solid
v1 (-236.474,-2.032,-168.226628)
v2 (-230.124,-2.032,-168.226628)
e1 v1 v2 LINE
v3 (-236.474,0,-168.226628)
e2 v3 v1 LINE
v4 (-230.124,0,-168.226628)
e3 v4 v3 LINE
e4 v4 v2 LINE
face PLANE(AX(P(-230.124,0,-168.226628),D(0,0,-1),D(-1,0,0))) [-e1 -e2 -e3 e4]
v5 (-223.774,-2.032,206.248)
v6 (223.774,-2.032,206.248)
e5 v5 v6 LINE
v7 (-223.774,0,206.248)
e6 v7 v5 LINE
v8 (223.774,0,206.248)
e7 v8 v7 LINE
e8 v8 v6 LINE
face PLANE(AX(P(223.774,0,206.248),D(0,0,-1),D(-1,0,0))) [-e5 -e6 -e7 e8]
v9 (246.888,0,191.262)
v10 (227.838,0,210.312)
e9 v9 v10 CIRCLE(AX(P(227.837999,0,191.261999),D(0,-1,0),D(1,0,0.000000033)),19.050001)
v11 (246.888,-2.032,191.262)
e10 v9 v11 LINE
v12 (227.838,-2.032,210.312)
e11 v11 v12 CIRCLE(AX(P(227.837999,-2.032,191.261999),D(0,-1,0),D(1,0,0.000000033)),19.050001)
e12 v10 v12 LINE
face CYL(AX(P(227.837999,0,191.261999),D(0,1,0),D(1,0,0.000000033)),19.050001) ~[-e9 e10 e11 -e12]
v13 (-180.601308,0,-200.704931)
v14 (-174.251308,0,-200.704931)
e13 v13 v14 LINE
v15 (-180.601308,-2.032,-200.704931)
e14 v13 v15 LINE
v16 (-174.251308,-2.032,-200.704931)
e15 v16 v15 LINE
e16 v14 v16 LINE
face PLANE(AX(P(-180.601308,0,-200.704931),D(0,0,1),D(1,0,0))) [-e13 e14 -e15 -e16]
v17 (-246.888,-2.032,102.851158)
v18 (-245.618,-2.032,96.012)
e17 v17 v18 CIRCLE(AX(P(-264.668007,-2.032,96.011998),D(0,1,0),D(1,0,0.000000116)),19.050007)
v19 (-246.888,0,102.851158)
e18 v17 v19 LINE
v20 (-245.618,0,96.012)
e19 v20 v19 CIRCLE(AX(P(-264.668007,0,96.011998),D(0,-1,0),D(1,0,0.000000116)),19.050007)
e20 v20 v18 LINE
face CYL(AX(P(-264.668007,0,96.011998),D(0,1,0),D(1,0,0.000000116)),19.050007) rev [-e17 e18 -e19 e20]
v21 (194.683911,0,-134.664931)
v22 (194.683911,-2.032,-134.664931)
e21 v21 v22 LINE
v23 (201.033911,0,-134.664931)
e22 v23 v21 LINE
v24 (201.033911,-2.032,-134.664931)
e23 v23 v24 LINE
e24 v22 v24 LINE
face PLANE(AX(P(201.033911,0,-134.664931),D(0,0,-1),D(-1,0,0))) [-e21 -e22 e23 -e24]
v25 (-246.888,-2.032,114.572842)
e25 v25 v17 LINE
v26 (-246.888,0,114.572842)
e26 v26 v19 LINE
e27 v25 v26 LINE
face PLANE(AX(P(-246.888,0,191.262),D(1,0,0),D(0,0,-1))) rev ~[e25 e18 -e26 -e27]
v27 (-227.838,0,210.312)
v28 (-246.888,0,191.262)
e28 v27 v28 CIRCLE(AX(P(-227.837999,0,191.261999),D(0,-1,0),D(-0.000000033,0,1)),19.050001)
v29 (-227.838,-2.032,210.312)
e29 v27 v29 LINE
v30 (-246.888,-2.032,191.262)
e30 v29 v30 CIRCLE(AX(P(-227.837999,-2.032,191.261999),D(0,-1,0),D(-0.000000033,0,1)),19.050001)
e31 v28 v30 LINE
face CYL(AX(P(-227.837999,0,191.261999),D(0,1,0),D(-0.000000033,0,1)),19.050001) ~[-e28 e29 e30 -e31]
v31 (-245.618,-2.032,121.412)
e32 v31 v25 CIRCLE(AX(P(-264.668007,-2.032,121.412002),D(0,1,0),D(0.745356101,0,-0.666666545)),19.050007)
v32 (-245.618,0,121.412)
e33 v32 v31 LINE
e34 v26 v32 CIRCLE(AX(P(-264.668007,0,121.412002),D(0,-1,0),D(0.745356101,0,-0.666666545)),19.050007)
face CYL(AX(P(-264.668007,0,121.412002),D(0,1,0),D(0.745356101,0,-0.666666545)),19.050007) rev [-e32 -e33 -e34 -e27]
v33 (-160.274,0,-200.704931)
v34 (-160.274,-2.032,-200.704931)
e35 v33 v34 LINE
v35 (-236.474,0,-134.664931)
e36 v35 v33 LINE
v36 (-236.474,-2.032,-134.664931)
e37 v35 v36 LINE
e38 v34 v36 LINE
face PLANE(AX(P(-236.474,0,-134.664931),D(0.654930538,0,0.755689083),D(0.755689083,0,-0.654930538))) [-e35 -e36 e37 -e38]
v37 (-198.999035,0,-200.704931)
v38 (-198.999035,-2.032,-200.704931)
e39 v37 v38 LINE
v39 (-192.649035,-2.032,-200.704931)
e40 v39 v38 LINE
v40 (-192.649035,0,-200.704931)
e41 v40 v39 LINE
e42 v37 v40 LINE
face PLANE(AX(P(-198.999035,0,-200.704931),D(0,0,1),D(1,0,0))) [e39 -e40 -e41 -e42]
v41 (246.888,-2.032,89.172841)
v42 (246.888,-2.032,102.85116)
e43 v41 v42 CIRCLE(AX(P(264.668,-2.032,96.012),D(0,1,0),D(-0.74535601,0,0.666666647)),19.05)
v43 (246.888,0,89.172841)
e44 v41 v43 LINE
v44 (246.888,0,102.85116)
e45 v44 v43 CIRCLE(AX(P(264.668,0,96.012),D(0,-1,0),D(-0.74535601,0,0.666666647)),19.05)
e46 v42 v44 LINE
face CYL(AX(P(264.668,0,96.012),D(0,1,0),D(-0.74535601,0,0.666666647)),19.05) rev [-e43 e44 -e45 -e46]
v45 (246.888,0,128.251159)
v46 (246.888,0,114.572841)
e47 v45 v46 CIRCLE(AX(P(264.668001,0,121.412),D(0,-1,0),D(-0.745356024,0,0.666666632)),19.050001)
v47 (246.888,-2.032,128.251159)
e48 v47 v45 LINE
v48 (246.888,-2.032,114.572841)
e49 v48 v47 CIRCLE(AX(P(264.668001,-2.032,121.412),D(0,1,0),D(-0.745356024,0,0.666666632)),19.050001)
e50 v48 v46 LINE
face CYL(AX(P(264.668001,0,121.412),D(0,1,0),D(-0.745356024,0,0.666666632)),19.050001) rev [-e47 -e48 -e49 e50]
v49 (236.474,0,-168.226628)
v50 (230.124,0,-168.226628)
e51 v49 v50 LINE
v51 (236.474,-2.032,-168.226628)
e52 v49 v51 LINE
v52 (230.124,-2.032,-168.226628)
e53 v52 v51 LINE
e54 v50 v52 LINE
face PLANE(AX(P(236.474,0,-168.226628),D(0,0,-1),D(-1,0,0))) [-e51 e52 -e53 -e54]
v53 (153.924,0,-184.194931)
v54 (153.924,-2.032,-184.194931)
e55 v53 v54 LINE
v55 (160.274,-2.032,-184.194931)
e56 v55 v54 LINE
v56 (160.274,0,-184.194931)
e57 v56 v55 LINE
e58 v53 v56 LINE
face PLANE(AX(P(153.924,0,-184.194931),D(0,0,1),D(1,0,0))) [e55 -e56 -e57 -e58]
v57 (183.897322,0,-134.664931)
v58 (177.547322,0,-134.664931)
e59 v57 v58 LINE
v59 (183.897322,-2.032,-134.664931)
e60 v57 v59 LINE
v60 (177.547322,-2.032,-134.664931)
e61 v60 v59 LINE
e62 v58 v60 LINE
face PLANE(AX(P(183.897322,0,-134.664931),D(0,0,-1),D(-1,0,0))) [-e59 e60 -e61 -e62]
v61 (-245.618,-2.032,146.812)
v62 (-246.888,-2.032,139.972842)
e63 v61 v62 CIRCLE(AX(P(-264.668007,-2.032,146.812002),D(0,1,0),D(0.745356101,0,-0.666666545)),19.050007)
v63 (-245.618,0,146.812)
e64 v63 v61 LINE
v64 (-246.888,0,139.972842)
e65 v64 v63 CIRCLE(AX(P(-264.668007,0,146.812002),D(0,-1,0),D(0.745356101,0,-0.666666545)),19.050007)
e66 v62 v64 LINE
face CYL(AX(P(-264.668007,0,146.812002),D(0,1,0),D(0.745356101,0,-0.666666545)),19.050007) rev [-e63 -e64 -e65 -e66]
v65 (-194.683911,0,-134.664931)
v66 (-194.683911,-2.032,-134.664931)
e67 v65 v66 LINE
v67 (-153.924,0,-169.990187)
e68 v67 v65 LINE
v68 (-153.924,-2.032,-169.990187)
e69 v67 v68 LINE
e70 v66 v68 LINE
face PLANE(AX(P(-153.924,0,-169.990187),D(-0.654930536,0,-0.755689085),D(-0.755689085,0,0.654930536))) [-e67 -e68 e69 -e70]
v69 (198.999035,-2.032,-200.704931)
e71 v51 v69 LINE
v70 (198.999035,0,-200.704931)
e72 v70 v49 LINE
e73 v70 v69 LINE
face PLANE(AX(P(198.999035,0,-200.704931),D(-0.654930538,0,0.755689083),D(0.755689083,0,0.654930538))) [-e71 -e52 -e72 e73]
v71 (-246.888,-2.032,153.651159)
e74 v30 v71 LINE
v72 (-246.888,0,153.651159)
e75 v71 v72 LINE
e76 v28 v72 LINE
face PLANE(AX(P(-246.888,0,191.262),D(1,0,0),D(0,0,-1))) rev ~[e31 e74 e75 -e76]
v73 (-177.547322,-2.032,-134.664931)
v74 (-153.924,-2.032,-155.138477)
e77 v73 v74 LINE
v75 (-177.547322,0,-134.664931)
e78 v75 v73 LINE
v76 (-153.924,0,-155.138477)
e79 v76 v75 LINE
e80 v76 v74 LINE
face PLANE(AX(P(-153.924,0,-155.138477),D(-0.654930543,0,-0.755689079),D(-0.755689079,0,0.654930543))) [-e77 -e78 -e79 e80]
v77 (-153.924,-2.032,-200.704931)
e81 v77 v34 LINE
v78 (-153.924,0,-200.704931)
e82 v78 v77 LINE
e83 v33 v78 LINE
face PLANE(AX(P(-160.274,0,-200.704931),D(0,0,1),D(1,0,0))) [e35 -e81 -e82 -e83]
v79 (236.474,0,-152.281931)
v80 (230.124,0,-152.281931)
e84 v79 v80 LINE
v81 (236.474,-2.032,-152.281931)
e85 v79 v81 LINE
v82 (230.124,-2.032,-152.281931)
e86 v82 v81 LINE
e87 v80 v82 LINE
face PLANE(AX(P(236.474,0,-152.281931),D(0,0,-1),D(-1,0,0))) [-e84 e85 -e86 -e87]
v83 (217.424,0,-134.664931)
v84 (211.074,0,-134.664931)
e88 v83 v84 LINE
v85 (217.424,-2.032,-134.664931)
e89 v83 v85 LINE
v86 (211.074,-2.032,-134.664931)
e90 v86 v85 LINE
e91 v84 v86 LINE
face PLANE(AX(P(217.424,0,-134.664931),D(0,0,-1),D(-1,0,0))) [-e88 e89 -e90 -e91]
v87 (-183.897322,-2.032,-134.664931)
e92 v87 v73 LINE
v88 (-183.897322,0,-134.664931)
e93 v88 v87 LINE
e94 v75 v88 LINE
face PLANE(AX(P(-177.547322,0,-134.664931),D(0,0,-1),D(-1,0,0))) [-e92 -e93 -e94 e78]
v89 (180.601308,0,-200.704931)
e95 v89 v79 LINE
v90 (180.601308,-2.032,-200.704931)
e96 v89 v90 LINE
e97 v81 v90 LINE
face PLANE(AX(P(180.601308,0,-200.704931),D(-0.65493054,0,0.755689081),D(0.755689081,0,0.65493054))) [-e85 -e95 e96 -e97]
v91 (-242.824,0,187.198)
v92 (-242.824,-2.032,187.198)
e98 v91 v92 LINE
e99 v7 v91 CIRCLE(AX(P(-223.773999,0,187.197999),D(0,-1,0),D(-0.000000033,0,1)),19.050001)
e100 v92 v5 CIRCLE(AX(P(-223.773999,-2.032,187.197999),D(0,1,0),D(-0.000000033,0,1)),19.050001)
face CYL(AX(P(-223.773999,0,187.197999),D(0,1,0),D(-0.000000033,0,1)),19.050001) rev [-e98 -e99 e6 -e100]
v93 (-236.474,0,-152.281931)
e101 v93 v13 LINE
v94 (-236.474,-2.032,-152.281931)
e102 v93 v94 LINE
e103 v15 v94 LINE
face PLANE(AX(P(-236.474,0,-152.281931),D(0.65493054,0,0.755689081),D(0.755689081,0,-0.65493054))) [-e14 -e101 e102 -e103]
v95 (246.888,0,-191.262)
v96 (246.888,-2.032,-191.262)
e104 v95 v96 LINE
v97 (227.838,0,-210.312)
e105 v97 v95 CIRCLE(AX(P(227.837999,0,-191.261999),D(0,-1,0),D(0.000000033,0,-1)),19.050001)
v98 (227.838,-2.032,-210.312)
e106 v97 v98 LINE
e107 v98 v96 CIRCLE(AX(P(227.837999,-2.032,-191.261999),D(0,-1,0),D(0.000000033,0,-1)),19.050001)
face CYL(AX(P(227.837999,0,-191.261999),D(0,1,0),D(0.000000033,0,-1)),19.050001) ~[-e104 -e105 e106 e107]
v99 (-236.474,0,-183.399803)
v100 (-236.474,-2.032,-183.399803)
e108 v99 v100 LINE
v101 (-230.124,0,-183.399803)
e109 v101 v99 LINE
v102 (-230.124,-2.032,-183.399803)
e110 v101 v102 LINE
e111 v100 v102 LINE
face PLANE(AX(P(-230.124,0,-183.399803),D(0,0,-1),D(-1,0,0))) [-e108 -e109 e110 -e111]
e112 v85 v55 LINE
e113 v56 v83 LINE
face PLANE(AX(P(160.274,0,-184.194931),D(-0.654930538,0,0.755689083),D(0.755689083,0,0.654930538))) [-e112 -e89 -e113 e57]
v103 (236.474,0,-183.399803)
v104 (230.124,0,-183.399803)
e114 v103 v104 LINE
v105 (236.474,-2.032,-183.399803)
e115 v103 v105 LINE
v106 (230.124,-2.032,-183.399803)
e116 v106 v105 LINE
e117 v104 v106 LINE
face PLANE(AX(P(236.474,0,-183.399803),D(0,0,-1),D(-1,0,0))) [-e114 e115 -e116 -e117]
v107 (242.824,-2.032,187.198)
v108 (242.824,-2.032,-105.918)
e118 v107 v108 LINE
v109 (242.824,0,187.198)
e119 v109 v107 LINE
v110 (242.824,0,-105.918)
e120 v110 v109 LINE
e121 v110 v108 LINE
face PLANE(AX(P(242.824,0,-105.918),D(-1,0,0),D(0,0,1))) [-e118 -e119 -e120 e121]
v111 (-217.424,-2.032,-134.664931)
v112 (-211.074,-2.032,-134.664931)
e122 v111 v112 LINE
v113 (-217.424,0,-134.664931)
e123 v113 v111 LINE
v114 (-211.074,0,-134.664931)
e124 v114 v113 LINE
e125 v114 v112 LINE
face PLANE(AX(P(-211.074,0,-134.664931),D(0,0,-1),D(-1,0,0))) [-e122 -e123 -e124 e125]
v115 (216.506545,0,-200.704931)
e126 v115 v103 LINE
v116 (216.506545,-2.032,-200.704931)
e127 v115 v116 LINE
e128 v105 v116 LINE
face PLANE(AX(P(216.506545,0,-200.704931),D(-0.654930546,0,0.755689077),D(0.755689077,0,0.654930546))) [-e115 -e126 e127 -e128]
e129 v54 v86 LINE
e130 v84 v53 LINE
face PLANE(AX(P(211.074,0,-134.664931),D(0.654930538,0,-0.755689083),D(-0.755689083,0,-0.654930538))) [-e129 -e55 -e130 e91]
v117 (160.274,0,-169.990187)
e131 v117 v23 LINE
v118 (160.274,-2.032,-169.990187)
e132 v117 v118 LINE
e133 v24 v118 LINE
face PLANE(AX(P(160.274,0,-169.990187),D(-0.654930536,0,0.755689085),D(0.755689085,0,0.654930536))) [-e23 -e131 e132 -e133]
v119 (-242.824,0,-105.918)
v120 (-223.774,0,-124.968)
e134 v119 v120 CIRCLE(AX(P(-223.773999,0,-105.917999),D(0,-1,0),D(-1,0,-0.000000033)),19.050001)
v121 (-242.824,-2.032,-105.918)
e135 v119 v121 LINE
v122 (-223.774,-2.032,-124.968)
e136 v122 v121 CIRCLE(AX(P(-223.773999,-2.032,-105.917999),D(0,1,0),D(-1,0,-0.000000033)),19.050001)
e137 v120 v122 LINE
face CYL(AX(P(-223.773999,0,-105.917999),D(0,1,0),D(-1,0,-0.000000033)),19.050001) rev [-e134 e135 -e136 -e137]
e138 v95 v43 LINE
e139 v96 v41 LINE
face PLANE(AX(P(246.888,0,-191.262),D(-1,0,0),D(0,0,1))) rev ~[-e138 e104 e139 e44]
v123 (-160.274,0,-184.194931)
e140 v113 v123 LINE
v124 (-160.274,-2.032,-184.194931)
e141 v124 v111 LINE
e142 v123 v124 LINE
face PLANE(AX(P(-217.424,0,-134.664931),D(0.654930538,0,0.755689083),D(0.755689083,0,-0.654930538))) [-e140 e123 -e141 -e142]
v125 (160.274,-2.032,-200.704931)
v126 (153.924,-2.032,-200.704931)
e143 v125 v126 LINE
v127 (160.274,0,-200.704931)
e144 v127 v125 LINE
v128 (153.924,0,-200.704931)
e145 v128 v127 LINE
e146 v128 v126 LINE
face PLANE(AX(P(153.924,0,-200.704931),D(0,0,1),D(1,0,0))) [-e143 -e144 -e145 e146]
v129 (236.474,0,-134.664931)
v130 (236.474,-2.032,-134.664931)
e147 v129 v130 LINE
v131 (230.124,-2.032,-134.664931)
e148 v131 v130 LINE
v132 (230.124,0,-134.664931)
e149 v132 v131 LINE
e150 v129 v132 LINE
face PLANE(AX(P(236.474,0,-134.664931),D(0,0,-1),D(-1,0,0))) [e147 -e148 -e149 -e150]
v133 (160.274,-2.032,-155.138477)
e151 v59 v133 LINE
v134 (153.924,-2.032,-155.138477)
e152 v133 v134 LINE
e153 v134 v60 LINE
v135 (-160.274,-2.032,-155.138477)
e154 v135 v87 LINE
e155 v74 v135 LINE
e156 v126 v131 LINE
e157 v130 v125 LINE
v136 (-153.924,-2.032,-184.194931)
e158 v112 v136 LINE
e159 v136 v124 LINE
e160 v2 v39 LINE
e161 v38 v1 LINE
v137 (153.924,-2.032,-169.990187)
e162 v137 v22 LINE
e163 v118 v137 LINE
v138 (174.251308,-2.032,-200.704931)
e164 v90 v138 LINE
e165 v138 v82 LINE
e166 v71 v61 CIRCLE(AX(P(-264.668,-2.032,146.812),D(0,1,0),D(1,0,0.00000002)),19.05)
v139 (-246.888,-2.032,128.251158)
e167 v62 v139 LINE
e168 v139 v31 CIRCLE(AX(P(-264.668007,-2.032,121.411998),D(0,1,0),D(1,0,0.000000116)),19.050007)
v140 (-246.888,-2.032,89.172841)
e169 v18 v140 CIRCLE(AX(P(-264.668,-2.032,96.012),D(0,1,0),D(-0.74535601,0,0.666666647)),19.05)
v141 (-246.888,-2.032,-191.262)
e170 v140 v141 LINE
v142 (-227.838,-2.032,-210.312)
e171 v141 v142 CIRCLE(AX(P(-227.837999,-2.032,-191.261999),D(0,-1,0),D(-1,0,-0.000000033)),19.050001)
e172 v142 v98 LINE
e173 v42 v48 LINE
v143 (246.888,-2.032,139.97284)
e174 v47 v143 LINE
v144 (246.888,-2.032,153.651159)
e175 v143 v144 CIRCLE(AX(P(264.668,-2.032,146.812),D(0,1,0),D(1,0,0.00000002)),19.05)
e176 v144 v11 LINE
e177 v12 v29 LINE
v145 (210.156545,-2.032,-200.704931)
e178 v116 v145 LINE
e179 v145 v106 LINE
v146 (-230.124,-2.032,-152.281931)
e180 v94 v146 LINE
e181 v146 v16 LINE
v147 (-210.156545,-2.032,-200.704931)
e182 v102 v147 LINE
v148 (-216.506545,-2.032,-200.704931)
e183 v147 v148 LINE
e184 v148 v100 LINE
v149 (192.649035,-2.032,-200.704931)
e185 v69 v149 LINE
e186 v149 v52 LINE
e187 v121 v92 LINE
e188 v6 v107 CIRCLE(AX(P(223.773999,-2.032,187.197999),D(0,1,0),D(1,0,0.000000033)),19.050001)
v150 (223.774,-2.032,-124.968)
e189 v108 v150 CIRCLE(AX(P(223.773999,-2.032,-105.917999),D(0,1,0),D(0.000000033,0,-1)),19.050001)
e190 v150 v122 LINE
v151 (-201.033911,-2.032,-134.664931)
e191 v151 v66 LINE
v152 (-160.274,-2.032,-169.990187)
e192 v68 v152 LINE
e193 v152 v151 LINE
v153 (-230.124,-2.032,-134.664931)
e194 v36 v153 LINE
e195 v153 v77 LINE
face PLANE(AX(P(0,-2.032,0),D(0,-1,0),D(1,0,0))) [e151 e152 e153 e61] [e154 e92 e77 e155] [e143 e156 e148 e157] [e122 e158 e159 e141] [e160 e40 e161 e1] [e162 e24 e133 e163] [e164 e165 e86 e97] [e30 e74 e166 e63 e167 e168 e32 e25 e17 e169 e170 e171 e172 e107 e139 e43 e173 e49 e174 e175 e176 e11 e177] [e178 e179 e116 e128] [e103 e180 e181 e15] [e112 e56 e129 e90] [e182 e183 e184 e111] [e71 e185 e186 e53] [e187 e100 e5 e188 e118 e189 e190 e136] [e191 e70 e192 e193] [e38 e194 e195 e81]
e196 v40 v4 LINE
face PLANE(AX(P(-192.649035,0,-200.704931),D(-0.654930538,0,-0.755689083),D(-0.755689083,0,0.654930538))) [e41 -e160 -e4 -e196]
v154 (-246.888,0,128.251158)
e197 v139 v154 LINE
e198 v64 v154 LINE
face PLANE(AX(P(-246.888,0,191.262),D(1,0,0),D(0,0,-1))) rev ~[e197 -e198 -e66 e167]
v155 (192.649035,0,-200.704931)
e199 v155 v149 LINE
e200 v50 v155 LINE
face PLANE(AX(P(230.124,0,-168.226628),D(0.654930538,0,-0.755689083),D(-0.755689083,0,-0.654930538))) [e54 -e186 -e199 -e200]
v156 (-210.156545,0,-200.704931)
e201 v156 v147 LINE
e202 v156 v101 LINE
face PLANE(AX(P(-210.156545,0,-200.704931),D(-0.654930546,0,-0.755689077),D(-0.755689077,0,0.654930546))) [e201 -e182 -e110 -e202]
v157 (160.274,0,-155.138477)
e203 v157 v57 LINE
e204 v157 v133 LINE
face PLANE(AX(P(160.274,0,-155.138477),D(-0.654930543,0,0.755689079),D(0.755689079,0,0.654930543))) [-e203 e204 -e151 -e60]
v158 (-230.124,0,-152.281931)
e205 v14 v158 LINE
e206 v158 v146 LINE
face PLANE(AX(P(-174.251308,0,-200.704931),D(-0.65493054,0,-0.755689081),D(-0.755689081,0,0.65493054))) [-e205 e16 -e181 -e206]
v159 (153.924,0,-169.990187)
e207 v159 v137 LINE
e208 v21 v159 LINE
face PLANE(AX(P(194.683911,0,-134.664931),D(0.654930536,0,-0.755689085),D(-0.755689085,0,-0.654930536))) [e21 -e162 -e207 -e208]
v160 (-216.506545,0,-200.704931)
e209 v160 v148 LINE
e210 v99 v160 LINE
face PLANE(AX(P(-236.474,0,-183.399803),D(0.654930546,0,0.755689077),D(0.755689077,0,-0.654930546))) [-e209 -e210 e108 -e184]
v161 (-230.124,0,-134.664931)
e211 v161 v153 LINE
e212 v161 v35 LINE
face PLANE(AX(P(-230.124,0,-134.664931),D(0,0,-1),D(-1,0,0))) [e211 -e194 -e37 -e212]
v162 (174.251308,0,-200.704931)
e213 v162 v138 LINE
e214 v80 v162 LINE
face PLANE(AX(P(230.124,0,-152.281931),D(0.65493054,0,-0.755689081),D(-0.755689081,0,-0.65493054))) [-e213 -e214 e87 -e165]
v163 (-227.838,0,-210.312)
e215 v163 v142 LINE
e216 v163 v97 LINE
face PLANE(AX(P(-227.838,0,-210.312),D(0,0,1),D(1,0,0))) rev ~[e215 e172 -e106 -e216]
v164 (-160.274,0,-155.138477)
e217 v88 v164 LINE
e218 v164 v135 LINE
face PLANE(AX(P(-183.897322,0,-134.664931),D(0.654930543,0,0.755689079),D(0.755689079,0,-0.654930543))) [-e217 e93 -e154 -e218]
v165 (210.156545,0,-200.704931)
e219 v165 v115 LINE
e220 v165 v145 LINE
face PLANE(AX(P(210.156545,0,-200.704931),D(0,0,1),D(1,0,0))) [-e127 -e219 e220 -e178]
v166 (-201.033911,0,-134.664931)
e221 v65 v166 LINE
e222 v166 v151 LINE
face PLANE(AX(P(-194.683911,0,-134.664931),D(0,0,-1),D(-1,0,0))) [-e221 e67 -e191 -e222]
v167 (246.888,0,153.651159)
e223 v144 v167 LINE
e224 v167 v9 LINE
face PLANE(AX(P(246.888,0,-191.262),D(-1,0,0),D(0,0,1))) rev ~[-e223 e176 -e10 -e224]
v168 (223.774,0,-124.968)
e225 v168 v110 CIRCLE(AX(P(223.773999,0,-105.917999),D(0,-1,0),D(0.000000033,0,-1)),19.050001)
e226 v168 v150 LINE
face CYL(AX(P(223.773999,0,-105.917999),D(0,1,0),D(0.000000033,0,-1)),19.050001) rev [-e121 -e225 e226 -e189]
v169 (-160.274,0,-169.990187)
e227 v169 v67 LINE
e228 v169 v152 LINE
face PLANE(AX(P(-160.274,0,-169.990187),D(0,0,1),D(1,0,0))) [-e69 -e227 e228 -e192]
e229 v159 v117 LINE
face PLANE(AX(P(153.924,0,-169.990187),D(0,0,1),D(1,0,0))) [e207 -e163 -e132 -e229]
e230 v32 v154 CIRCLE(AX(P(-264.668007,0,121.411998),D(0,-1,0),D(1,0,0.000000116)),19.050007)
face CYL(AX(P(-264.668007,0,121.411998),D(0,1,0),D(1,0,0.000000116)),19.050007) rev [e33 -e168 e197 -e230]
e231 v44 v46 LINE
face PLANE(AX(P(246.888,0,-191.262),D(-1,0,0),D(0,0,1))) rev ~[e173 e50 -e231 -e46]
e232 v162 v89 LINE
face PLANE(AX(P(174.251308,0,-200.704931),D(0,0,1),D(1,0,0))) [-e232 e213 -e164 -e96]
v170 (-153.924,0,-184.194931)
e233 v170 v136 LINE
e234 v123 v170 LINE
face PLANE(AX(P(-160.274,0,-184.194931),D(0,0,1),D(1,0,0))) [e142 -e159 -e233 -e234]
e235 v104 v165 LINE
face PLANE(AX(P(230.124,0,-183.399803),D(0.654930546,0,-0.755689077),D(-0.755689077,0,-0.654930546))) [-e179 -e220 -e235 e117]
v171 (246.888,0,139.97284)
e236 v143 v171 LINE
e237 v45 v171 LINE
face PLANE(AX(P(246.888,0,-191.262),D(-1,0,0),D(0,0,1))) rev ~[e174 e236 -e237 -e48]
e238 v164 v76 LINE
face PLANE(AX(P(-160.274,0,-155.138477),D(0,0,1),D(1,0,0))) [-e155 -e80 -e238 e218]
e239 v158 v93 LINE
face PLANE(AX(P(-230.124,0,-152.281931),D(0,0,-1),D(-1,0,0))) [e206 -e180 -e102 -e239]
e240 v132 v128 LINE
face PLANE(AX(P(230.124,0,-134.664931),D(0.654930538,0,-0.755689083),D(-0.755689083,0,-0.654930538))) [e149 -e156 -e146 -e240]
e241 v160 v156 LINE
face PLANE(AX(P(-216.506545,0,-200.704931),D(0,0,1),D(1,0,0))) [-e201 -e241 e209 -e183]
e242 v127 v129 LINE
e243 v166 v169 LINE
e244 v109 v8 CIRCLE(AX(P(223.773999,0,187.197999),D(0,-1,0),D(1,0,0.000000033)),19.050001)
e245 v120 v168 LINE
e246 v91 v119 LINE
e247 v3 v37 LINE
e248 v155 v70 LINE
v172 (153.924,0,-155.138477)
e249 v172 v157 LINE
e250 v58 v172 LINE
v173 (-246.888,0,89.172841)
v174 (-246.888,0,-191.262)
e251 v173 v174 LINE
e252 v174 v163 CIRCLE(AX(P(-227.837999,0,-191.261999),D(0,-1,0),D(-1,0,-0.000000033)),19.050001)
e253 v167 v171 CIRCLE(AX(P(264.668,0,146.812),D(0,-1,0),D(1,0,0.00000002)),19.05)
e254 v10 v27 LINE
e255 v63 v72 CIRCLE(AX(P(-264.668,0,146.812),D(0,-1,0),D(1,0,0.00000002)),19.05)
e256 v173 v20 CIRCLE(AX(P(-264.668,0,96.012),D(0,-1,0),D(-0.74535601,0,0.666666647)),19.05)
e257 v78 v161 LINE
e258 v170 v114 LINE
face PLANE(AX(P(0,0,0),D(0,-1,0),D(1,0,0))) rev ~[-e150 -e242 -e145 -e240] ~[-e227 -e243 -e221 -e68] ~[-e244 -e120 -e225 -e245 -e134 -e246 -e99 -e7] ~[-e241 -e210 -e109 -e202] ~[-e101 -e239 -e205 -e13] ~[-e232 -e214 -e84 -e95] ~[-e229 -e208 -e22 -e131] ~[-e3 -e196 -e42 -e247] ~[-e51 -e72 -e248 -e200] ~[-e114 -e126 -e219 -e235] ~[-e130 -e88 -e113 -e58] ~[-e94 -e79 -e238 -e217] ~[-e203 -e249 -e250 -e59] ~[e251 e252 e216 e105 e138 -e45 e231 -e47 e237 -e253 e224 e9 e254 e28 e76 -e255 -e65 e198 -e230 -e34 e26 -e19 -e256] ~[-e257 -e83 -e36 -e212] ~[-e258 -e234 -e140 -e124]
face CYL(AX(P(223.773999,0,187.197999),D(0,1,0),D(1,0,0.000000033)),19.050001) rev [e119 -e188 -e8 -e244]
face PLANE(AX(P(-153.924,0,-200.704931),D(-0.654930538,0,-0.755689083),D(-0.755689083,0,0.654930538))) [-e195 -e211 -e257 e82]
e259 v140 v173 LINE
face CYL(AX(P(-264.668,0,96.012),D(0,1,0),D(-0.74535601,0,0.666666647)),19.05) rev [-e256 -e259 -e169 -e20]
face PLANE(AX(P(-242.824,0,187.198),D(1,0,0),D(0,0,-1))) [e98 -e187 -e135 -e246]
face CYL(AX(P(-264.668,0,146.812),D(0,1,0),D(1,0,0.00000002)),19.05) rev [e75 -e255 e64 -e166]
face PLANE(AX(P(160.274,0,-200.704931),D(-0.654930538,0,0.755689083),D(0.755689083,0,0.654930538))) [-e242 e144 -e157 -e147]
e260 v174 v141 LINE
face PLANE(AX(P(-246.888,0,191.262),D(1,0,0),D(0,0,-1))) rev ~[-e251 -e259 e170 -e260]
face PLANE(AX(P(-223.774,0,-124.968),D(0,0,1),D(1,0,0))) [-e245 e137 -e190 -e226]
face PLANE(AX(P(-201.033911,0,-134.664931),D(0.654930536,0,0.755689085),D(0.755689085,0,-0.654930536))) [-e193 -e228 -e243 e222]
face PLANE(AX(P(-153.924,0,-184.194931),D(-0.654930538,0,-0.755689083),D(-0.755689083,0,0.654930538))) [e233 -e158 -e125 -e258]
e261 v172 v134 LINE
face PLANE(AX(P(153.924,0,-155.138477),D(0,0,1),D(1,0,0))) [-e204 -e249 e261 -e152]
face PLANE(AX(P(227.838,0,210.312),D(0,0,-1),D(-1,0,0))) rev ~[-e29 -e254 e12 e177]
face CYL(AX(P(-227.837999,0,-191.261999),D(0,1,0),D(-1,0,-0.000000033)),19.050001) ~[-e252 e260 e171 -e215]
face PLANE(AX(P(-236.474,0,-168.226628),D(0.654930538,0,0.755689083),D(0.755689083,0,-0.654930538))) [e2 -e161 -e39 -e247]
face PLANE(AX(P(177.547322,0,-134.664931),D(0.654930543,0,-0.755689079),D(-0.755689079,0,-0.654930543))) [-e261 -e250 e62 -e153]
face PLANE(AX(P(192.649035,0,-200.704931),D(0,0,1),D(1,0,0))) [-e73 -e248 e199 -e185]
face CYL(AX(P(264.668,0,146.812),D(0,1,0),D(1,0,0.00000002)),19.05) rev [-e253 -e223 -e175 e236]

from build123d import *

# Parameters (mm, degrees)
F2_DEPTH = 2.032
F3_DEPTH = 2.54
F5_DEPTH = 25.4
F7_DEPTH = 25.4


with BuildPart() as f2:
    # F0 (on Front) → F2 (new body)
    with BuildSketch(Plane.XZ):
        with BuildLine():
            ThreePointArc((246.888, 191.262), (241.308384, 204.732384), (227.838, 210.312))
            Line((227.838, 210.312), (-227.838, 210.312))
            ThreePointArc((-227.838, 210.312), (-241.308384, 204.732384), (-246.888, 191.262))
            Line((-246.888, 191.262), (-246.888, -191.262))
            ThreePointArc((-246.888, -191.262), (-241.308384, -204.732384), (-227.838, -210.312))
            Line((-227.838, -210.312), (227.838, -210.312))
            ThreePointArc((227.838, -210.312), (241.308384, -204.732384), (246.888, -191.262))
            Line((246.888, -191.262), (246.888, 191.262))
        make_face()
    extrude(amount=F2_DEPTH)

    # F1 (on Front) → F3 (cut)
    with BuildSketch(Plane.XZ):
        with BuildLine():
            Line((223.774, 206.248), (-223.774, 206.248))
            ThreePointArc((-223.774, 206.248), (-237.244384, 200.668384), (-242.824, 187.198))
            Line((-242.824, 187.198), (-242.824, -105.918))
            ThreePointArc((-242.824, -105.918), (-237.244384, -119.388384), (-223.774, -124.968))
            Line((-223.774, -124.968), (223.774, -124.968))
            ThreePointArc((223.774, -124.968), (237.244384, -119.388384), (242.824, -105.918))
            Line((242.824, -105.918), (242.824, 187.198))
            ThreePointArc((242.824, 187.198), (237.244384, 200.668384), (223.774, 206.248))
        make_face()
    extrude(amount=F3_DEPTH, mode=Mode.SUBTRACT)

    # F4 (on Front) → F5 (cut)
    with BuildSketch(Plane.XZ):
        Polygon((-230.124, -134.664931), (-236.474, -134.664931), (-160.274, -200.704931), (-153.924, -200.704931), align=None)
        Polygon((-211.074, -134.664931), (-217.424, -134.664931), (-160.274, -184.194931), (-153.924, -184.194931), align=None)
        Polygon((-230.124, -152.281931), (-236.474, -152.281931), (-180.601308, -200.704931), (-174.251308, -200.704931), align=None)
        Polygon((-230.124, -168.226628), (-236.474, -168.226628), (-198.999035, -200.704931), (-192.649035, -200.704931), align=None)
        Polygon((-230.124, -183.399803), (-236.474, -183.399803), (-216.506545, -200.704931), (-210.156545, -200.704931), align=None)
        Polygon((-160.274, -169.990187), (-153.924, -169.990187), (-194.683911, -134.664931), (-201.033911, -134.664931), align=None)
        Polygon((-160.274, -155.138477), (-153.924, -155.138477), (-177.547322, -134.664931), (-183.897322, -134.664931), align=None)
        Polygon((160.274, -184.194931), (217.424, -134.664931), (211.074, -134.664931), (153.924, -184.194931), align=None)
        Polygon((160.274, -200.704931), (236.474, -134.664931), (230.124, -134.664931), (153.924, -200.704931), align=None)
        Polygon((160.274, -169.990187), (201.033911, -134.664931), (194.683911, -134.664931), (153.924, -169.990187), align=None)
        Polygon((177.547322, -134.664931), (153.924, -155.138477), (160.274, -155.138477), (183.897322, -134.664931), align=None)
        Polygon((198.999035, -200.704931), (236.474, -168.226628), (230.124, -168.226628), (192.649035, -200.704931), align=None)
        Polygon((230.124, -152.281931), (174.251308, -200.704931), (180.601308, -200.704931), (236.474, -152.281931), align=None)
        Polygon((230.124, -183.399803), (210.156545, -200.704931), (216.506545, -200.704931), (236.474, -183.399803), align=None)
    extrude(amount=F5_DEPTH, mode=Mode.SUBTRACT)

    # F6 (on Front) → F7 (cut)
    with BuildSketch(Plane.XZ):
        with BuildLine():
            ThreePointArc((278.867032, 134.112), (282.463983, 140.014539), (283.718, 146.812))
            ThreePointArc((283.718, 146.812), (257.870539, 164.607983), (250.468968, 134.112))
            ThreePointArc((250.468968, 134.112), (264.668, 140.462), (278.867032, 134.112))
        make_face()
        with BuildLine():
            ThreePointArc((278.867032, 134.112), (264.668, 127.762), (250.468968, 134.112))
            ThreePointArc((250.468968, 134.112), (245.618, 121.412), (250.468968, 108.712))
            ThreePointArc((250.468968, 108.712), (264.668, 115.062), (278.867032, 108.712))
            ThreePointArc((278.867032, 108.712), (282.463983, 114.614539), (283.718, 121.412))
            ThreePointArc((283.718, 121.412), (282.463983, 128.209461), (278.867032, 134.112))
        make_face()
        with BuildLine():
            ThreePointArc((278.867032, 108.712), (264.668, 102.362), (250.468968, 108.712))
            ThreePointArc((250.468968, 108.712), (257.870539, 78.216017), (283.718, 96.012))
            ThreePointArc((283.718, 96.012), (282.463983, 102.809461), (278.867032, 108.712))
        make_face()
        with BuildLine():
            ThreePointArc((-250.468968, 134.112), (-246.872017, 140.014539), (-245.618, 146.812))
            ThreePointArc((-245.618, 146.812), (-271.465461, 164.607983), (-278.867032, 134.112))
            ThreePointArc((-278.867032, 134.112), (-264.668, 140.462), (-250.468968, 134.112))
        make_face()
        with BuildLine():
            ThreePointArc((-250.468968, 134.112), (-264.668, 127.762), (-278.867032, 134.112))
            ThreePointArc((-278.867032, 134.112), (-283.718, 121.412), (-278.867032, 108.712))
            ThreePointArc((-278.867032, 108.712), (-264.668, 115.062), (-250.468968, 108.712))
            ThreePointArc((-250.468968, 108.712), (-246.872017, 114.614539), (-245.618, 121.412))
            ThreePointArc((-245.618, 121.412), (-246.872017, 128.209461), (-250.468968, 134.112))
        make_face()
        with BuildLine():
            ThreePointArc((-250.468968, 108.712), (-264.668, 102.362), (-278.867032, 108.712))
            ThreePointArc((-278.867032, 108.712), (-271.465461, 78.216017), (-245.618, 96.012))
            ThreePointArc((-245.618, 96.012), (-246.872017, 102.809461), (-250.468968, 108.712))
        make_face()
    extrude(amount=F7_DEPTH, mode=Mode.SUBTRACT)


solid = f2.part
